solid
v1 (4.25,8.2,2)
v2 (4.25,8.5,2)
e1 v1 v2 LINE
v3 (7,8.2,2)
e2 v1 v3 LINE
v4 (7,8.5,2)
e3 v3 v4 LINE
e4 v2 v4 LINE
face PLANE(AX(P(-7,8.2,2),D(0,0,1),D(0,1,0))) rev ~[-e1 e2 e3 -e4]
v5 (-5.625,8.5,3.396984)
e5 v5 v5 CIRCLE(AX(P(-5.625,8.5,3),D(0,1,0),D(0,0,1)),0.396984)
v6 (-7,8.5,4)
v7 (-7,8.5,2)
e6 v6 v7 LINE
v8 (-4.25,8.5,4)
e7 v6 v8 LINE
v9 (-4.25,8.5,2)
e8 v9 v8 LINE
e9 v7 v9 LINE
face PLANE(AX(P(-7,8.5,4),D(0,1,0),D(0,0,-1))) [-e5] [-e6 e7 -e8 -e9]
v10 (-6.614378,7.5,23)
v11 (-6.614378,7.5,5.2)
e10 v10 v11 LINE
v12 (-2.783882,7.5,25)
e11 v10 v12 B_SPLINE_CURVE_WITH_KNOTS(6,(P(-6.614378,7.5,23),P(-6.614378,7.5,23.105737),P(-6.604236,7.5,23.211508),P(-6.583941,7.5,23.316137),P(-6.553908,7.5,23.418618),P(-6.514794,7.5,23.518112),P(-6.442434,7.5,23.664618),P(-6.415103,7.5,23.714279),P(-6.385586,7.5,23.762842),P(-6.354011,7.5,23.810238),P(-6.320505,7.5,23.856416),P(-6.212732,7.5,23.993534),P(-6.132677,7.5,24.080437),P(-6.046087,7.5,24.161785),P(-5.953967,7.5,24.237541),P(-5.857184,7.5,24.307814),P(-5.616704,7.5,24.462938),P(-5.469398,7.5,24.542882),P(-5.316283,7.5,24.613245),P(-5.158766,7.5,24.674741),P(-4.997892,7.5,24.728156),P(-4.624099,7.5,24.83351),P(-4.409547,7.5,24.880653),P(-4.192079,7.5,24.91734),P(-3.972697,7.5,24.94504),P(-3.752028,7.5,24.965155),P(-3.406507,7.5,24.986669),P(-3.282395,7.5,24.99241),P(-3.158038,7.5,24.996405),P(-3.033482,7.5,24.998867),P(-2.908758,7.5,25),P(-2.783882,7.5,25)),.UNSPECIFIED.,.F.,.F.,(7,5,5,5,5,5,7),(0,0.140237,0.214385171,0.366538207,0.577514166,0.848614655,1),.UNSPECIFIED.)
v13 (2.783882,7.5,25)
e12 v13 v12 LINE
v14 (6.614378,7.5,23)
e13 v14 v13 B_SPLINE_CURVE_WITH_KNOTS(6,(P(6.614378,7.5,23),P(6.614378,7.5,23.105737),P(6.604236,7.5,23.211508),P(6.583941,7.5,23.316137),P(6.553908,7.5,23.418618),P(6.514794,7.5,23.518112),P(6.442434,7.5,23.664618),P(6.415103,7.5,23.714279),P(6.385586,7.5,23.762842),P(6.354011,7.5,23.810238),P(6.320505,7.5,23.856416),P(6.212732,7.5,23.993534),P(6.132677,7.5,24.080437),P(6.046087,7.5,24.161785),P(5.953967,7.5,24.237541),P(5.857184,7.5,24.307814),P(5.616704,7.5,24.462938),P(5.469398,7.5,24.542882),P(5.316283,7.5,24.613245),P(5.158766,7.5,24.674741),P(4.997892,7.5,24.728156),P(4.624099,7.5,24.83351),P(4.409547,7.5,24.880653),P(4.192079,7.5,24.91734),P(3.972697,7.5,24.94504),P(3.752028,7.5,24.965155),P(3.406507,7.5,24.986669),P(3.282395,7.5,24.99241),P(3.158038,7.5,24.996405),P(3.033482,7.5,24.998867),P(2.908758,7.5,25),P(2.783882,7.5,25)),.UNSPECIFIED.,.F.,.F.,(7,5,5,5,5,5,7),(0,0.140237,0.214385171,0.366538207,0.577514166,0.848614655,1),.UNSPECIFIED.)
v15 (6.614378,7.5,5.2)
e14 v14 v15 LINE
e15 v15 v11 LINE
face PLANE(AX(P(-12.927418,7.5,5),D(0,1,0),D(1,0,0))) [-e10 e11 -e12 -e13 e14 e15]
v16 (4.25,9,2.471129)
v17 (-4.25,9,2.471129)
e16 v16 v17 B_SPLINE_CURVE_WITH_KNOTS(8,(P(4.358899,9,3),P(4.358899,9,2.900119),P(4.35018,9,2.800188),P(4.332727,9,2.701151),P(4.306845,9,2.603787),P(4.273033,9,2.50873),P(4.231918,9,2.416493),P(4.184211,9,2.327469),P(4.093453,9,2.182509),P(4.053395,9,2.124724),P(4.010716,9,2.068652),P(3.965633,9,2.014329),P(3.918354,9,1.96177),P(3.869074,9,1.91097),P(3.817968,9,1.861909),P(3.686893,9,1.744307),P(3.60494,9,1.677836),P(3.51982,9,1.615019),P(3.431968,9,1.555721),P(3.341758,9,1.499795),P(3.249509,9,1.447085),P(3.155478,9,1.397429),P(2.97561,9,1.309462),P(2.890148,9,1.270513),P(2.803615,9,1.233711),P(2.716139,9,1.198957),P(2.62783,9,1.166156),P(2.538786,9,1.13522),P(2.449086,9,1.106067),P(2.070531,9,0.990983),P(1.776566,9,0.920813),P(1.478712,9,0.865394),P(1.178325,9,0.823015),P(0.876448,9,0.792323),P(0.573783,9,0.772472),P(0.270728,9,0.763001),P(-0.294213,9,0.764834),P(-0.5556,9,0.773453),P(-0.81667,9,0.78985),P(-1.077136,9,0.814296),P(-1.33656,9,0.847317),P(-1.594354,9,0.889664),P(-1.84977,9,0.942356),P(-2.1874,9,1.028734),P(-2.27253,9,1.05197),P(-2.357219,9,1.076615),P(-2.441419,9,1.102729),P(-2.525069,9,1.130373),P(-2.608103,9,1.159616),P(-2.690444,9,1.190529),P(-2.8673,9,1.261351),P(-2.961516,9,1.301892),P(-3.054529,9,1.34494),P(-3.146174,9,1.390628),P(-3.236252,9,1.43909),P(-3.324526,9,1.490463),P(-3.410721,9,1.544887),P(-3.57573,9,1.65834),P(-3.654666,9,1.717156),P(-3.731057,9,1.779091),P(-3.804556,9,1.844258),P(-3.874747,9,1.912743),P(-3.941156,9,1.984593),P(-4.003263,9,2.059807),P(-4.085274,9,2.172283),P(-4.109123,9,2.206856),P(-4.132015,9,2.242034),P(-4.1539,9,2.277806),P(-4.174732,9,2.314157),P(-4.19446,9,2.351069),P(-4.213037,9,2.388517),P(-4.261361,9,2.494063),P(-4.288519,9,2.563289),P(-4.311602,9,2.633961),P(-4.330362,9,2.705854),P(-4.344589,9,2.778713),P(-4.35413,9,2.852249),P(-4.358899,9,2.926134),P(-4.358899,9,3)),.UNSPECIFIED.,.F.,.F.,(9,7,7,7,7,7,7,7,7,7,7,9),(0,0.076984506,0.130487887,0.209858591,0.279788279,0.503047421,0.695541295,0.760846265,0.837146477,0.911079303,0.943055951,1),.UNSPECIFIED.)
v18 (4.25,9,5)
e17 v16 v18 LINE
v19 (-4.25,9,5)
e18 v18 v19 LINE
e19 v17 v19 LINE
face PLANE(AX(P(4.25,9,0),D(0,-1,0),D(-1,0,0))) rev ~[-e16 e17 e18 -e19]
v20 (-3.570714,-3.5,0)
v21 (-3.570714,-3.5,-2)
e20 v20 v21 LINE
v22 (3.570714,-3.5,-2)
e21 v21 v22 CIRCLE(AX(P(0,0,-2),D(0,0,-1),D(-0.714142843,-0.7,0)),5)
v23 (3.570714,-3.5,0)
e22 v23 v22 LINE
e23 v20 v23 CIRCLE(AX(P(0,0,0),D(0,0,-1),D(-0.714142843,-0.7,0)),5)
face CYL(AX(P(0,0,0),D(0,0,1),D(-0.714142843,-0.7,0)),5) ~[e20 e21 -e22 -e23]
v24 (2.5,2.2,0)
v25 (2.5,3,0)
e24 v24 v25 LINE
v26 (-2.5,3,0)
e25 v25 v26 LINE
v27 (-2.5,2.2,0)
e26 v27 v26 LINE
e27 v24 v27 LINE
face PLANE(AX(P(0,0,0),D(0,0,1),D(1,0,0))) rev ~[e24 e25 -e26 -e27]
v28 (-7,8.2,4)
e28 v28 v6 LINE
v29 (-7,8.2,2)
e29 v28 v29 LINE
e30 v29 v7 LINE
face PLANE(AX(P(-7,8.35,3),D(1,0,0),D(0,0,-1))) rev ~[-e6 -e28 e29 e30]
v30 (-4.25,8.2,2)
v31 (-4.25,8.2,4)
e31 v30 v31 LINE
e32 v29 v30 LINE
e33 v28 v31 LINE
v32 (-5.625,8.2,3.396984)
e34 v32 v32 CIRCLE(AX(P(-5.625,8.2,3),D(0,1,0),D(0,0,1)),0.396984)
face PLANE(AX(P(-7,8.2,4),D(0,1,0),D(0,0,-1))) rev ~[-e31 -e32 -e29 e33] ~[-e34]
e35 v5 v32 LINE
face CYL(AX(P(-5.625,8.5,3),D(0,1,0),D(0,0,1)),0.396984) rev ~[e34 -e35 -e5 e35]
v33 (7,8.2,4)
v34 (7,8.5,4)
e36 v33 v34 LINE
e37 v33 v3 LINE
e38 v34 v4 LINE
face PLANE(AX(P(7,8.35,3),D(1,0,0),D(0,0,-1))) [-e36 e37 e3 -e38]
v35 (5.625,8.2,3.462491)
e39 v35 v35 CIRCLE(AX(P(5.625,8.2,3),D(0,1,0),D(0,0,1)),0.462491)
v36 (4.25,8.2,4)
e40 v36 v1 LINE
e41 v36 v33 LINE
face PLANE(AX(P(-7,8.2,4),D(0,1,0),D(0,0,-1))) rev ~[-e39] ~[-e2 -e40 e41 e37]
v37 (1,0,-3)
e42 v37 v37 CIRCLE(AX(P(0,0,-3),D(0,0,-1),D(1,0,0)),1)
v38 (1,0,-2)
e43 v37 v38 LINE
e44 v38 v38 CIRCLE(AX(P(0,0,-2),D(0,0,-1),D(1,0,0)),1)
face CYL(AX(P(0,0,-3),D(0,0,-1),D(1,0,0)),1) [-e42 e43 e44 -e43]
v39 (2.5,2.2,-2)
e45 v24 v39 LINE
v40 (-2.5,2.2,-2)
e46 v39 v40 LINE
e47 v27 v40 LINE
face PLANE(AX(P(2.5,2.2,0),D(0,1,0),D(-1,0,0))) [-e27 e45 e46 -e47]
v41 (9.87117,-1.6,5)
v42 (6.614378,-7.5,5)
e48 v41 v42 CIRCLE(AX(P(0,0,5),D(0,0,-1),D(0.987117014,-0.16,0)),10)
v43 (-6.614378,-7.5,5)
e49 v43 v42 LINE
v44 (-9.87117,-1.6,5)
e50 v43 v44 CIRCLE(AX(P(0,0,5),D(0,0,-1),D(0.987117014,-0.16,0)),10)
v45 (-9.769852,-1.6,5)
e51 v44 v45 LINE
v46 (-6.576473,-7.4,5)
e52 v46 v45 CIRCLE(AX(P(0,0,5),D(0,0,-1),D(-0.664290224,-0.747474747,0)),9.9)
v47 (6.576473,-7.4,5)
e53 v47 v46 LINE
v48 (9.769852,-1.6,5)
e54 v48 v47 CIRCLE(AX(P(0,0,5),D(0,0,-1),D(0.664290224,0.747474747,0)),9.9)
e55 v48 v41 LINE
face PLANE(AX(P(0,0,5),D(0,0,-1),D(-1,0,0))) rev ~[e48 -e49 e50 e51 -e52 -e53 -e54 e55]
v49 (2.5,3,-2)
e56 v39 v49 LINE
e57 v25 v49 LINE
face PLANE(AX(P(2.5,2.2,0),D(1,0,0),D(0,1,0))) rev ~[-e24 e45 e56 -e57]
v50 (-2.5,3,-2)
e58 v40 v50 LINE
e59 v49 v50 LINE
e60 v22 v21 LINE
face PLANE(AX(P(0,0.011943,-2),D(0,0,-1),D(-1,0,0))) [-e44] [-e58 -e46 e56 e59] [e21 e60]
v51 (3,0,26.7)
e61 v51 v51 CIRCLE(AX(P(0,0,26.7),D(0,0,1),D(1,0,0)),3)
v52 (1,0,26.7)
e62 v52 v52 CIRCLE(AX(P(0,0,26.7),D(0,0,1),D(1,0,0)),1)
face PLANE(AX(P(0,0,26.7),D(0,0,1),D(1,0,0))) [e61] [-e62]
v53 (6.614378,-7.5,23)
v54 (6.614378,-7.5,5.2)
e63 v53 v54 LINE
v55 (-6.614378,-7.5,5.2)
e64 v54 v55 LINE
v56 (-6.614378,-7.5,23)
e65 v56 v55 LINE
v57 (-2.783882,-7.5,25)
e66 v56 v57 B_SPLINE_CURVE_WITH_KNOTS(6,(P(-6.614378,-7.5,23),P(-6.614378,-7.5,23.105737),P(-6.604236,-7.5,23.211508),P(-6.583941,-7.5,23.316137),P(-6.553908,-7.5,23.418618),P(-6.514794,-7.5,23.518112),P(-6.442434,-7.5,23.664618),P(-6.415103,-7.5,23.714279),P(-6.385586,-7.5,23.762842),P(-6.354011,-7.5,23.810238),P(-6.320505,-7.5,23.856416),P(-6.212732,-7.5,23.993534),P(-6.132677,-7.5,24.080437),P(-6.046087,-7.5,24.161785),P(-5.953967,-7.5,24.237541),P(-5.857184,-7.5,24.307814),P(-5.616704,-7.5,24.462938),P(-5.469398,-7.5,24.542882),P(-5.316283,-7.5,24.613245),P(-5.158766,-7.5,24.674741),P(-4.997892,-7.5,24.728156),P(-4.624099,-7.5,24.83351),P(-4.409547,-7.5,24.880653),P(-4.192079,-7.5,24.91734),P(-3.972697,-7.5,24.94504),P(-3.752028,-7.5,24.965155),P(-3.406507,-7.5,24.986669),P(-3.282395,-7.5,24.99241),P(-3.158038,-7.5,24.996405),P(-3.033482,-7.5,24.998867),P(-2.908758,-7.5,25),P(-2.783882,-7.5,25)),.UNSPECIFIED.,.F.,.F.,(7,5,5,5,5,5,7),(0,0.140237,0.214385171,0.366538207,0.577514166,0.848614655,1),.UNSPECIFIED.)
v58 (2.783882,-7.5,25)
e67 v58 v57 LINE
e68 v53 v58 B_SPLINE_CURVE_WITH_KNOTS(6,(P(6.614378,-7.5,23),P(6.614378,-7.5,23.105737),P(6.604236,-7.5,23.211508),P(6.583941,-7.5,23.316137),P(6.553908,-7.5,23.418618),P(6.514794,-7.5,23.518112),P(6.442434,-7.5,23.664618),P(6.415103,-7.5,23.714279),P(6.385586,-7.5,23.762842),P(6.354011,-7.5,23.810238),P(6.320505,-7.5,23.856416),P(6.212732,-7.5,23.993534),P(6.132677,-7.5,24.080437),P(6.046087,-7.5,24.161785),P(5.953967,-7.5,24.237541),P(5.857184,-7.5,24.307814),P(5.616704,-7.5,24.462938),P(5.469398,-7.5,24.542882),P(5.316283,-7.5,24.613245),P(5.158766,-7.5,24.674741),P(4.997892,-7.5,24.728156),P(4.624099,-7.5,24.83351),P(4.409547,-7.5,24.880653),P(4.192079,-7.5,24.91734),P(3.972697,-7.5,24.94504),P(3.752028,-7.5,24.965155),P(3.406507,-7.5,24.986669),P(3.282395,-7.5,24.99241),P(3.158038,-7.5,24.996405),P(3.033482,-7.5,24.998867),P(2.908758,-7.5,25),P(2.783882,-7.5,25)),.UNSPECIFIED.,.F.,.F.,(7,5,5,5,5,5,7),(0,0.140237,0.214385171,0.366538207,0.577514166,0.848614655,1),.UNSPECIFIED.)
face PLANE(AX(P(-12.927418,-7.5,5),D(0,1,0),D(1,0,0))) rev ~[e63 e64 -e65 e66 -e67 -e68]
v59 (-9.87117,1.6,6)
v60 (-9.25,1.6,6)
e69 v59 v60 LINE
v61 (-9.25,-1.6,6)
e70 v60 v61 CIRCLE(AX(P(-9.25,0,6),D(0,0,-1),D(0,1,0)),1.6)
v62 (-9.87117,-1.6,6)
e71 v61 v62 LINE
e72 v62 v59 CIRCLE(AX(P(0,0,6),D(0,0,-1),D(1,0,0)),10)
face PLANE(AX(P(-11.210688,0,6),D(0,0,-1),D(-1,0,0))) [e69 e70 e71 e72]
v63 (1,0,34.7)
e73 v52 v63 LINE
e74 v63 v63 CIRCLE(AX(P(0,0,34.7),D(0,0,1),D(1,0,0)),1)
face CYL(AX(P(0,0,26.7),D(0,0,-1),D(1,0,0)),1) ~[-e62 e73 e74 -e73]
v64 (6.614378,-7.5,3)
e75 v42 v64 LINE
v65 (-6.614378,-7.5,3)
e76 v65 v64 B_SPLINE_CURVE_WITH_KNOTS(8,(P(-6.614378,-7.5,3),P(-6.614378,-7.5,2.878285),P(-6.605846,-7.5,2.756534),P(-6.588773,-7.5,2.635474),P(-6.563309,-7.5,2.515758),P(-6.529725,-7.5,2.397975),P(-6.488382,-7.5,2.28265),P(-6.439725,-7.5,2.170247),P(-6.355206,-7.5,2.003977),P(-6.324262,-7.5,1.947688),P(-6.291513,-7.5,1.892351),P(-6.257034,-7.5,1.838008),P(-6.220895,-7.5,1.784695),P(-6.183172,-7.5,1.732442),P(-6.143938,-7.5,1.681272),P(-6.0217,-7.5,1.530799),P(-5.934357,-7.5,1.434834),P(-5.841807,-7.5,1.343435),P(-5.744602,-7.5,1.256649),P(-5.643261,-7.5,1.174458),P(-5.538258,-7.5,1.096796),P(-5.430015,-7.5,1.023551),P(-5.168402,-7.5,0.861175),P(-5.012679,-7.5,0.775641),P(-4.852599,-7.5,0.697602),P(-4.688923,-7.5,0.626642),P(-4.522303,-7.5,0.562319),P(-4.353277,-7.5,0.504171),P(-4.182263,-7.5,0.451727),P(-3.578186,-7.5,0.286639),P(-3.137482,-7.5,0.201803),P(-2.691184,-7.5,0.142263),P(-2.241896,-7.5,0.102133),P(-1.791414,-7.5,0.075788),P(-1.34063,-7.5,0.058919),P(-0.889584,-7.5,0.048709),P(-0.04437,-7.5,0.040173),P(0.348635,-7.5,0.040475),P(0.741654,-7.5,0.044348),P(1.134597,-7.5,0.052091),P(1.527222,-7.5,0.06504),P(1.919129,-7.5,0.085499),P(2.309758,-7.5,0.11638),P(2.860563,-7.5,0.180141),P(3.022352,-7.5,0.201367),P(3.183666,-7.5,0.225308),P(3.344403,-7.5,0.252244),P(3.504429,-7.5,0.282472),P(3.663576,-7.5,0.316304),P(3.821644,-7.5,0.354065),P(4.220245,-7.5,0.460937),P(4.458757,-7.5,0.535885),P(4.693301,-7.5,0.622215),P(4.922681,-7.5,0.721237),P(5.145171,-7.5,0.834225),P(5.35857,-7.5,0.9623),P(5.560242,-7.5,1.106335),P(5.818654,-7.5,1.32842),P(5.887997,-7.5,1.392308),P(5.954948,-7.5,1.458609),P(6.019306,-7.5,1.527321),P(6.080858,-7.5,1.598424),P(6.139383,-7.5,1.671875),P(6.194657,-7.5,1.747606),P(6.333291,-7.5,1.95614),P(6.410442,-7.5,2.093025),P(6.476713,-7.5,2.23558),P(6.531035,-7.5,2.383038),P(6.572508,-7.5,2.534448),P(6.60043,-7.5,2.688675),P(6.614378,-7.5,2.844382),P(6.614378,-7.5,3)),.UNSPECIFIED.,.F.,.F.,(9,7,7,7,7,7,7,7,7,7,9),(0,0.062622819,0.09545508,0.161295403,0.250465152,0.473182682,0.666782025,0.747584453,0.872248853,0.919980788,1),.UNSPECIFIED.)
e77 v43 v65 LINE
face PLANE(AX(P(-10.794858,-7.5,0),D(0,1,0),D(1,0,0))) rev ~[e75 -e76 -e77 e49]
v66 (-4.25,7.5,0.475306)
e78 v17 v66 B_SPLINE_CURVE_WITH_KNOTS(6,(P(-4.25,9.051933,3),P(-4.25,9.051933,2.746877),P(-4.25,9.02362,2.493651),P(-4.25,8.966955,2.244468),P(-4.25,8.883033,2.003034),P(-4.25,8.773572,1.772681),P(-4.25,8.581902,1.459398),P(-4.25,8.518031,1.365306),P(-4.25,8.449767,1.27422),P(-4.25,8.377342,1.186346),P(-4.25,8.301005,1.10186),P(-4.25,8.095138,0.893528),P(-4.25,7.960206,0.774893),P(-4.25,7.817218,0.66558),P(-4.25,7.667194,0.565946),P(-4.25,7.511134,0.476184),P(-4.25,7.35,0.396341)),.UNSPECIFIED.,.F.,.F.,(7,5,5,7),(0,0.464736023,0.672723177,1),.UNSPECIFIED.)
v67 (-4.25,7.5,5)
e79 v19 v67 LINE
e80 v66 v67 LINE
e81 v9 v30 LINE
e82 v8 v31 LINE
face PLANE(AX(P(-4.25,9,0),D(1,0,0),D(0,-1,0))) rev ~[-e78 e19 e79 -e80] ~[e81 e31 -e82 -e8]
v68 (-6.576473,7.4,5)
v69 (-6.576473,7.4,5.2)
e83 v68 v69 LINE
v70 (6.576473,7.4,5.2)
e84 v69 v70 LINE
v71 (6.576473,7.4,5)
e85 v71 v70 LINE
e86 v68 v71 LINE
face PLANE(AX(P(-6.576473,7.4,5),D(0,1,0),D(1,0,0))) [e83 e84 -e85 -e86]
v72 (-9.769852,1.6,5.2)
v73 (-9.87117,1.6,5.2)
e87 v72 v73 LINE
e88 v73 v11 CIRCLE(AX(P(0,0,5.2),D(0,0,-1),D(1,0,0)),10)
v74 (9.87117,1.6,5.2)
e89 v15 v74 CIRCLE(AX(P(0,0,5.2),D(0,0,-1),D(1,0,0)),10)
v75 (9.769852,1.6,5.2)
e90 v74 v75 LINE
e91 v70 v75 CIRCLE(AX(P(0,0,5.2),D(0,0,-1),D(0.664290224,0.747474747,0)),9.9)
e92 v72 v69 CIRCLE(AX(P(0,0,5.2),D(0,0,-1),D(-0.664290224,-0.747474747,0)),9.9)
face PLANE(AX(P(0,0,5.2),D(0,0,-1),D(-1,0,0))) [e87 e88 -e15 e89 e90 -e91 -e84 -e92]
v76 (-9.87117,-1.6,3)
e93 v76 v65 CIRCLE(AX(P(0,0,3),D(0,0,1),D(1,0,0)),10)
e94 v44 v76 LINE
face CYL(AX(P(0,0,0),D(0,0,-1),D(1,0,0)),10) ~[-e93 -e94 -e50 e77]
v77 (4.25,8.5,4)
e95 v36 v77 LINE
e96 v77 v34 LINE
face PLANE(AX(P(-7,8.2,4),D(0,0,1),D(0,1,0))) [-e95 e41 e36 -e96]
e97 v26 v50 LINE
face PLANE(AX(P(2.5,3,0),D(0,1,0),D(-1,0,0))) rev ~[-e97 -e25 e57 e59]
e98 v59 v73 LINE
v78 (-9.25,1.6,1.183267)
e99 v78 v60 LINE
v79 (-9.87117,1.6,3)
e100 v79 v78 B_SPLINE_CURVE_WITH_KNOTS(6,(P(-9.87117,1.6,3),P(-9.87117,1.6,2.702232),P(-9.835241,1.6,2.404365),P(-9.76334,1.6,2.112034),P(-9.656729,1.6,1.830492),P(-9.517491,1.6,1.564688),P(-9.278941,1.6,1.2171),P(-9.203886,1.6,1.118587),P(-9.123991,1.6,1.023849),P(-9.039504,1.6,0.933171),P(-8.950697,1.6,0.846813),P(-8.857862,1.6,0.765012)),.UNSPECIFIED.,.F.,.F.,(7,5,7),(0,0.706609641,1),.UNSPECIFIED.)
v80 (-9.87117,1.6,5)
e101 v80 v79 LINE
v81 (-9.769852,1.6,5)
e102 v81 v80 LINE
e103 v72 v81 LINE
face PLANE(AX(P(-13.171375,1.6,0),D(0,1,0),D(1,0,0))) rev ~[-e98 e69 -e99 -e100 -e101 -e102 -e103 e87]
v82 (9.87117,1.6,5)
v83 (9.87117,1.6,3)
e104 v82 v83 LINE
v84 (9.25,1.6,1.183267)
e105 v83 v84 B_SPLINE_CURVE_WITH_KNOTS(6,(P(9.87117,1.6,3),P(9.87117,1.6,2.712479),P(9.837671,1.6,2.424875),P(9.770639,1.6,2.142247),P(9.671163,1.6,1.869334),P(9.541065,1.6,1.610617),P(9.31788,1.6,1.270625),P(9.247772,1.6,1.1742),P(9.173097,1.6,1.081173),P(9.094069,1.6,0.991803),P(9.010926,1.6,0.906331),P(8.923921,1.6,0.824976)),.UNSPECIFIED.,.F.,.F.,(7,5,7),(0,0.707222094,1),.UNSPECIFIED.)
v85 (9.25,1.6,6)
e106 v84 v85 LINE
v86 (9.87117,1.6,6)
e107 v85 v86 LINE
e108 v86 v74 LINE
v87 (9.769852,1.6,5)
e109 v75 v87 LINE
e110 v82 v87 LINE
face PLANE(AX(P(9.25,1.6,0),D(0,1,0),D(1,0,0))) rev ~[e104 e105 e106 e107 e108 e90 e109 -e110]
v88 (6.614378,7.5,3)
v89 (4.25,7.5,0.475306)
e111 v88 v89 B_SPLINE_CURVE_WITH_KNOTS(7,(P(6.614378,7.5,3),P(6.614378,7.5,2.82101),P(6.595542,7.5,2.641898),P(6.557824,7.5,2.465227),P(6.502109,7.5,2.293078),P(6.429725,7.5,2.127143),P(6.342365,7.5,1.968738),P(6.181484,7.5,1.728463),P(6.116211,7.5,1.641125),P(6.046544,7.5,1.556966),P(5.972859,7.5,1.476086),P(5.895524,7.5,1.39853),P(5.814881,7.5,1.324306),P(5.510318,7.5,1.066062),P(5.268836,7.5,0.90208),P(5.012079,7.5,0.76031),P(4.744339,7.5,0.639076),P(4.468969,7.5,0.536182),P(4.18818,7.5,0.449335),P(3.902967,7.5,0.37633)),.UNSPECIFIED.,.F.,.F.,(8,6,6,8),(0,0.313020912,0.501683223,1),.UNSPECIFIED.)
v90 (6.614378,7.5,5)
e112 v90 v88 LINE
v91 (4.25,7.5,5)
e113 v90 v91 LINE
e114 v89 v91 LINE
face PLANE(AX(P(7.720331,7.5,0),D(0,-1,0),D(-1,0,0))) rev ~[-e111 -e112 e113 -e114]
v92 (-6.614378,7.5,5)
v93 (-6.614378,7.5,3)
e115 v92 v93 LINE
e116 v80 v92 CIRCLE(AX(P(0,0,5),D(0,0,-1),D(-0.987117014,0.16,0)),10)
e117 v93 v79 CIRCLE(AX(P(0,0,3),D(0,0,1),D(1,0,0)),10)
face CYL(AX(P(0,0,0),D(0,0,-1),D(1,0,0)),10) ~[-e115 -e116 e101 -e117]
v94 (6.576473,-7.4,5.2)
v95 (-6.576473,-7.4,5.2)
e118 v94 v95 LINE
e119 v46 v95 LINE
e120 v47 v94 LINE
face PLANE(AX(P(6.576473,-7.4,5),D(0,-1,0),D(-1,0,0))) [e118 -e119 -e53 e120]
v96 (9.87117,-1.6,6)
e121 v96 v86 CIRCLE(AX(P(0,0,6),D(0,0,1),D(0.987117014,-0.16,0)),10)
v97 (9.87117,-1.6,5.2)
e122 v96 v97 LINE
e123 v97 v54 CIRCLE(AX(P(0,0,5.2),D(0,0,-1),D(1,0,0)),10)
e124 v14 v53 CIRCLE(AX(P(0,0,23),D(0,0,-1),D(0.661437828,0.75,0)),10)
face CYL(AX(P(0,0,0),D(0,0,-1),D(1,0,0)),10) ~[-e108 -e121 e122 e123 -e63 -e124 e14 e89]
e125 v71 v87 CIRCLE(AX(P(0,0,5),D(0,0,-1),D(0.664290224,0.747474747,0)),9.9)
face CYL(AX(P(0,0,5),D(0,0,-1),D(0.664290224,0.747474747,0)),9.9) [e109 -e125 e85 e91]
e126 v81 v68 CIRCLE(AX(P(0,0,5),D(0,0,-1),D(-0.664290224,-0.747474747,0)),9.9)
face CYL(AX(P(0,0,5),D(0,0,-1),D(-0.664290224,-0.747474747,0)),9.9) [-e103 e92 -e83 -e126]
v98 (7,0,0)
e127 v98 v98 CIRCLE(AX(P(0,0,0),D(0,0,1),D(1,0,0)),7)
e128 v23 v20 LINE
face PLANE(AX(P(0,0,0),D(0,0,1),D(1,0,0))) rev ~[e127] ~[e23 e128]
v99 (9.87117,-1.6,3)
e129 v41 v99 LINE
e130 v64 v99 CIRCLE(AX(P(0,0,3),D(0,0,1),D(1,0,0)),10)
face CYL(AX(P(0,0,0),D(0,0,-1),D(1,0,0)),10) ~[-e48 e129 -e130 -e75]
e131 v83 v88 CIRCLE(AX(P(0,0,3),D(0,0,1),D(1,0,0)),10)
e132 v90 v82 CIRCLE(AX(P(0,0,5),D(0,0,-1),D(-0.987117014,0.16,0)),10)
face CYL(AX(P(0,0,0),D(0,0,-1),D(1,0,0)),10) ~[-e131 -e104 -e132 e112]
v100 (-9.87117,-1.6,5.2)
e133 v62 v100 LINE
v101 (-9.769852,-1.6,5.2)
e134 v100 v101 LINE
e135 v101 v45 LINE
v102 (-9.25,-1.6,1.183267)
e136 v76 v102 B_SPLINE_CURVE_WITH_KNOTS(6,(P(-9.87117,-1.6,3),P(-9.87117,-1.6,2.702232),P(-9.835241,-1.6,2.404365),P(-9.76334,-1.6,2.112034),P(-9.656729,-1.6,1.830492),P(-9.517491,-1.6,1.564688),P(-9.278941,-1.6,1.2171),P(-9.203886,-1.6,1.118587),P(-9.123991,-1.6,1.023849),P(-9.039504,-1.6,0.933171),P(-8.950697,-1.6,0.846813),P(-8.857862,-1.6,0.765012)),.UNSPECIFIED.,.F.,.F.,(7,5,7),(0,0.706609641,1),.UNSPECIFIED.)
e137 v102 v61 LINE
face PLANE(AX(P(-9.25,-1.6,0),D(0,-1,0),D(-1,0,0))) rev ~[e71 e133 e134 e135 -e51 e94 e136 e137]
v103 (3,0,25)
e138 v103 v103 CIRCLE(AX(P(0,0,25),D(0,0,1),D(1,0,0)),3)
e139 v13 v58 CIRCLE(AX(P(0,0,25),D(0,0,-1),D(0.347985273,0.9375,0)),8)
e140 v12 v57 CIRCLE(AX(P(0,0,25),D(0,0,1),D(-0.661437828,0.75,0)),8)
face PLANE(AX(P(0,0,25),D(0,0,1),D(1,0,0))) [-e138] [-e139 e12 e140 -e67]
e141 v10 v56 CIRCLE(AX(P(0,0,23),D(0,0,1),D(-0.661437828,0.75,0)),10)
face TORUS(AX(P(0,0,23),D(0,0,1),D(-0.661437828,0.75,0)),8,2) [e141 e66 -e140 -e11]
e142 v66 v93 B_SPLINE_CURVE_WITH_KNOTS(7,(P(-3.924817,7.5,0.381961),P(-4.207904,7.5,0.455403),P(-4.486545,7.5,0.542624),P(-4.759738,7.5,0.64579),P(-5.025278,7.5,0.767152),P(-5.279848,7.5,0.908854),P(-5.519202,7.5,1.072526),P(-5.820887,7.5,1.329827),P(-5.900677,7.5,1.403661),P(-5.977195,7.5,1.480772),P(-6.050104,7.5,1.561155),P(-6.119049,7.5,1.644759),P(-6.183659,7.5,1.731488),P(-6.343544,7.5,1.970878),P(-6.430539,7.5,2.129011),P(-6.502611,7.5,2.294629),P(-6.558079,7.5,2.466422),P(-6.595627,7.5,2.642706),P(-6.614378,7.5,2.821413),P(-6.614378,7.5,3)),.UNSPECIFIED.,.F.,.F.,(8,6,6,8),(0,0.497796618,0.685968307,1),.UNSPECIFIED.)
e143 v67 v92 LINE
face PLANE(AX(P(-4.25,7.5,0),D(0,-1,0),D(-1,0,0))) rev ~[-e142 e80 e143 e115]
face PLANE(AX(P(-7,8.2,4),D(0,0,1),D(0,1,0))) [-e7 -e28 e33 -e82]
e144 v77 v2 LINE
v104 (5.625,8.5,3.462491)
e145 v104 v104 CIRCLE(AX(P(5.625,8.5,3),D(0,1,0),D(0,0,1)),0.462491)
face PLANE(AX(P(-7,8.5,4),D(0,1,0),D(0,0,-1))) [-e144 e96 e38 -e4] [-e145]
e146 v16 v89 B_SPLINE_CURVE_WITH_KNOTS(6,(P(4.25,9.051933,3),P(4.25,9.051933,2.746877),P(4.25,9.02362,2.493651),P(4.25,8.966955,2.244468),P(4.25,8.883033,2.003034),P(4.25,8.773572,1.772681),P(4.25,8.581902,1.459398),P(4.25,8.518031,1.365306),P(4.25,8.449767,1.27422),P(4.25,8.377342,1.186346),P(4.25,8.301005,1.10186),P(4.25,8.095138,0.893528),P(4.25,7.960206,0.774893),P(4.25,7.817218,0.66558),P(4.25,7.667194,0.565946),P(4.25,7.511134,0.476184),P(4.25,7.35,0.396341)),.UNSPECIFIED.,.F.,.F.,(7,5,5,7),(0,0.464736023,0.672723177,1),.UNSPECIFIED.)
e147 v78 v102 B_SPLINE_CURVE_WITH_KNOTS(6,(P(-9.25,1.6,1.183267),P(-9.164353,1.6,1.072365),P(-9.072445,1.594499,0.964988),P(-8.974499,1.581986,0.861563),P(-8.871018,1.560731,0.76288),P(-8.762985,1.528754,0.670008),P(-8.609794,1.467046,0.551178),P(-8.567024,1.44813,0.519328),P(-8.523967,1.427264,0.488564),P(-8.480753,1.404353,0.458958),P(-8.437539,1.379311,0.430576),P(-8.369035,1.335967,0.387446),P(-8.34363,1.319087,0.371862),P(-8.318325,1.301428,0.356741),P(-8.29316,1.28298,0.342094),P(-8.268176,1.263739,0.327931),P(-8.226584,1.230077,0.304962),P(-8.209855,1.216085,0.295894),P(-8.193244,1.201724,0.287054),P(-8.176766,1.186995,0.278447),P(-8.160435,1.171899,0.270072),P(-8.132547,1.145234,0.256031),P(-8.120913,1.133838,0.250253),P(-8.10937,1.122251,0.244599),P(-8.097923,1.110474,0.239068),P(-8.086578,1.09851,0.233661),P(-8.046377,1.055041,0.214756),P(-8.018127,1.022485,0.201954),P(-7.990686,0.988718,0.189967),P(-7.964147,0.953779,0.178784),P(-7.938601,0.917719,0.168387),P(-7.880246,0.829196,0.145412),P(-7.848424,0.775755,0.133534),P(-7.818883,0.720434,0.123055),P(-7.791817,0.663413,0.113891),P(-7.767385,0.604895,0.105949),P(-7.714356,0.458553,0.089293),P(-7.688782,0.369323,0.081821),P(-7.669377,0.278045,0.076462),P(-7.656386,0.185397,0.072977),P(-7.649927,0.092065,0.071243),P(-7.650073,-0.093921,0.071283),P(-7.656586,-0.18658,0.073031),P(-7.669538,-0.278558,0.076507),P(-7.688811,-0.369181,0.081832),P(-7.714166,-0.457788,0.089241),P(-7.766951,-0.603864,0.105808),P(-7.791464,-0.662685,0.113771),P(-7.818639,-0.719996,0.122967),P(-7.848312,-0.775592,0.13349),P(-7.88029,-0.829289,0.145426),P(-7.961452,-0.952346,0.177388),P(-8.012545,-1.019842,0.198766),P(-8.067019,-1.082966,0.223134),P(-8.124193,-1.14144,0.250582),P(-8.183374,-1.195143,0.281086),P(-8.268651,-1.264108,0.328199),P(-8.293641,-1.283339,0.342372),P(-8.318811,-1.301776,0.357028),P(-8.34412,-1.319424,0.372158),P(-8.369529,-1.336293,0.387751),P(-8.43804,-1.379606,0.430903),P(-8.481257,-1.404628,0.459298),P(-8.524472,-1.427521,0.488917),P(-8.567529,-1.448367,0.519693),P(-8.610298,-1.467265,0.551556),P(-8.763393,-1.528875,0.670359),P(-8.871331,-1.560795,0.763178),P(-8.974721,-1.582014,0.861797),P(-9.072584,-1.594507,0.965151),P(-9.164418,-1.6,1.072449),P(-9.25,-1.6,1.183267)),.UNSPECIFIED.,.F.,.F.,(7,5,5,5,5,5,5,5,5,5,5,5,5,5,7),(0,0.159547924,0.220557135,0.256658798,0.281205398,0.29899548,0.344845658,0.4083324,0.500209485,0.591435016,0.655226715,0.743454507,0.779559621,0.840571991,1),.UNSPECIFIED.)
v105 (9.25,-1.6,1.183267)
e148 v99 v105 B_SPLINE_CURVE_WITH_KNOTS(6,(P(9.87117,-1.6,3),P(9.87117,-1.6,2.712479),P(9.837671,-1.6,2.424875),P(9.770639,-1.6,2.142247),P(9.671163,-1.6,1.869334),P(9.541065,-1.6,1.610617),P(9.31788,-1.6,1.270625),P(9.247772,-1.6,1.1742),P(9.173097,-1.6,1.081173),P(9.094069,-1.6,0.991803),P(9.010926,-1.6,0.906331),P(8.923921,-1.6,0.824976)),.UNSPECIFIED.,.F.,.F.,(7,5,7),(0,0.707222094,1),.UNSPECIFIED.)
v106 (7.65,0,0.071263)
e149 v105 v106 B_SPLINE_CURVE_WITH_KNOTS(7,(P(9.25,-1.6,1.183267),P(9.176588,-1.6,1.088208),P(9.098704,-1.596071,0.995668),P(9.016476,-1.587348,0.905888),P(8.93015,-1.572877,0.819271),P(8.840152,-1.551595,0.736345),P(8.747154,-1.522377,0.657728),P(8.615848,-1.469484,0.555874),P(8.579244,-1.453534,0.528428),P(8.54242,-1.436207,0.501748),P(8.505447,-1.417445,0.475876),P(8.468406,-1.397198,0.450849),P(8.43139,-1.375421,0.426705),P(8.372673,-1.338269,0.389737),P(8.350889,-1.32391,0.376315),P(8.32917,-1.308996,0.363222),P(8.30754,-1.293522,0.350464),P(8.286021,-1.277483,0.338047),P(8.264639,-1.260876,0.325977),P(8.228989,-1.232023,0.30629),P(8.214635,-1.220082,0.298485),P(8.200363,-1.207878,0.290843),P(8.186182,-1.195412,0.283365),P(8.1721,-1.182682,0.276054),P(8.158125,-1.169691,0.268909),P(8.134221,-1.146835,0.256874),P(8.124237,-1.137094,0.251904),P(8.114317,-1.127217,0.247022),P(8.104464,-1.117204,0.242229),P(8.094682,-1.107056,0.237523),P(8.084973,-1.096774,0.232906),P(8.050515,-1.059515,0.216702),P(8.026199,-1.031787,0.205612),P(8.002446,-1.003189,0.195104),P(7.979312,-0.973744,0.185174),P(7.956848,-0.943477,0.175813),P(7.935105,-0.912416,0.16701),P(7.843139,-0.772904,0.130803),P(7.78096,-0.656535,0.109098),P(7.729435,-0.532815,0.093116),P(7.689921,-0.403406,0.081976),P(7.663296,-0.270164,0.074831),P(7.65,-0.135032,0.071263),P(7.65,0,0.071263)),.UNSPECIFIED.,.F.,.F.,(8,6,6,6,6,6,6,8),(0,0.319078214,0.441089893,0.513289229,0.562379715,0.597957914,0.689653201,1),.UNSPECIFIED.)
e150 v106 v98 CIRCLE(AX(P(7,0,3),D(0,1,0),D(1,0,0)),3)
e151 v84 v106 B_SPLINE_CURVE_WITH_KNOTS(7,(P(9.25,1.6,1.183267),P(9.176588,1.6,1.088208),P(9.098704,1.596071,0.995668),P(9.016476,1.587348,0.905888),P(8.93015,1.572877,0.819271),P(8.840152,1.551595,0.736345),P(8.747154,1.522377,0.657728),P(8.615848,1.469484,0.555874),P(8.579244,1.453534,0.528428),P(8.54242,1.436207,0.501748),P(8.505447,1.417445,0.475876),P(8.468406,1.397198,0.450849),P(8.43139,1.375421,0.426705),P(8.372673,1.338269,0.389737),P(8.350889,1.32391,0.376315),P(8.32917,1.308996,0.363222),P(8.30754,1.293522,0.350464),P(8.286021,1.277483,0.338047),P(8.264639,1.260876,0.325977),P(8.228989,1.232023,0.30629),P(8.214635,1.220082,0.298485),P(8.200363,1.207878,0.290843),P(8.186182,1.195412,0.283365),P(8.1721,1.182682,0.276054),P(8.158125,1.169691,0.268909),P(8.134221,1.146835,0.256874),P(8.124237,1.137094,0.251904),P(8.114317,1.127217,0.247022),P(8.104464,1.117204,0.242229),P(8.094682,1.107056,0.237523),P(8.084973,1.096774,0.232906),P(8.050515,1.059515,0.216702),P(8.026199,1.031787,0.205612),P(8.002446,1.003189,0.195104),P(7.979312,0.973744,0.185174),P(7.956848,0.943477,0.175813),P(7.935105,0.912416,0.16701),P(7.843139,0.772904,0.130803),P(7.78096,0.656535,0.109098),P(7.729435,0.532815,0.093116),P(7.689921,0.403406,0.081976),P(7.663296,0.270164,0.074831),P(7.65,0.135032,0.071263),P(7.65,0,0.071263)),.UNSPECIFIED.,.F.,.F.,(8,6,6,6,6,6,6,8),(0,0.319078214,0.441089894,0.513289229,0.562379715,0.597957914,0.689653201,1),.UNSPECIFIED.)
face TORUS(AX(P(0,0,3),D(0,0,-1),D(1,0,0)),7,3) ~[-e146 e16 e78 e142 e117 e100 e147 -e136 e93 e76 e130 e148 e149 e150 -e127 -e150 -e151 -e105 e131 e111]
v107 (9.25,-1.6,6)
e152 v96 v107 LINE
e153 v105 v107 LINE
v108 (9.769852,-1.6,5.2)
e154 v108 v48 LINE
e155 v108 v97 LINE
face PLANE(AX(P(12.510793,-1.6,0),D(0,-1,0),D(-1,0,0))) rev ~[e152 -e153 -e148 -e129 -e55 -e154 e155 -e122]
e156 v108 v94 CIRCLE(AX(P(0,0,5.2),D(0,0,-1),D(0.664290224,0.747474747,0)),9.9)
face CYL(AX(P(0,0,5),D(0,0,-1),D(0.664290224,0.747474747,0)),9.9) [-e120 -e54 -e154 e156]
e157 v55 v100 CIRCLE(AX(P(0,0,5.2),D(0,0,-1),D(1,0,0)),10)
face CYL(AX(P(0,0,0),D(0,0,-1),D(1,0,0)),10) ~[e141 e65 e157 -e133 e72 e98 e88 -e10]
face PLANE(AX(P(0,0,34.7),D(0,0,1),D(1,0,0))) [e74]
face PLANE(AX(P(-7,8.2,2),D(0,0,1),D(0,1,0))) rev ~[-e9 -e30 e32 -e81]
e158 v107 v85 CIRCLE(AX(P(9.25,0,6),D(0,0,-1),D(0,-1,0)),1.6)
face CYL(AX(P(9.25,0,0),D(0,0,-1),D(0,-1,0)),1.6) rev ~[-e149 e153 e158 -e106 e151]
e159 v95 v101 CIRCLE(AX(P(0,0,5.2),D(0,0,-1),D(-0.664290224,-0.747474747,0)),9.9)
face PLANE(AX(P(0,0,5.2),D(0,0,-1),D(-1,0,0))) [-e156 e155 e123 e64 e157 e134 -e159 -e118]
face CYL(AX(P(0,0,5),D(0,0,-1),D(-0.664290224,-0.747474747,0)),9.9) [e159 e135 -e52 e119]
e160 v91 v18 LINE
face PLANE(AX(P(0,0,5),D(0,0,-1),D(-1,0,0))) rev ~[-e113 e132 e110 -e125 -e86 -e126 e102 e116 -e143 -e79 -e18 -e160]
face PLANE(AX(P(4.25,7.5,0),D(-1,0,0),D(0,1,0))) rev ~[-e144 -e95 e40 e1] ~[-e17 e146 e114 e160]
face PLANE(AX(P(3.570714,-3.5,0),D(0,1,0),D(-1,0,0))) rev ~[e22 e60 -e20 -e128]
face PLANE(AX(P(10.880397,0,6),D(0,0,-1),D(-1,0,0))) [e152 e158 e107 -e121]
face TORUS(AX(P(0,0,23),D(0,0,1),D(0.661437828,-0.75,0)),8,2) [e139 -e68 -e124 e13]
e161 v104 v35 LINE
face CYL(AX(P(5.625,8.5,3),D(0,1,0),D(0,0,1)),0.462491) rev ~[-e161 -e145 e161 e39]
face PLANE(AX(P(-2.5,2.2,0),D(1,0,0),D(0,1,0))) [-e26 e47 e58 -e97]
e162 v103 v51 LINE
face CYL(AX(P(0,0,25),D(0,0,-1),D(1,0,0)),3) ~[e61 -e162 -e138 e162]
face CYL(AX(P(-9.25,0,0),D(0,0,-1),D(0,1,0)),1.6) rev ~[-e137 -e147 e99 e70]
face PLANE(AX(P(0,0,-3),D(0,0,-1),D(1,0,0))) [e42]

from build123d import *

# Parameters (mm, degrees)
SKETCH_1_R            = 10
EXTRUDE_1_DEPTH       = 25
CUT_EXTRUDE_START     = 5
SKETCH_2_W            = 45.854835026
SKETCH_2_H            = 35
SKETCH_2_W_2          = 25.854835026
SKETCH_2_H_2          = 15
CUT_EXTRUDE_2_DEPTH   = 25
SKETCH_3_R            = 3
EXTRUDE_2_DEPTH       = 1.7
SKETCH_4_R            = 1
EXTRUDE_3_DEPTH       = 8
FILLET_1_R            = 2
FILLET_2_R            = 3
SKETCH_5_W            = 5
SKETCH_5_H            = 0.8
EXTRUDE_4_DEPTH       = 2
EXTRUDE_START         = 1
SKETCH_6_R            = 1
EXTRUDE_5_DEPTH       = 1
CUT_EXTRUDE_1_DEPTH   = 6
CUT_EXTRUDE_3_DEPTH   = 0.2
SKETCH_9_W            = 22.189526506
SKETCH_9_H            = 4.332571278
CUT_EXTRUDE_2_2_DEPTH = 5
EXTRUDE_7_DEPTH       = 7
EXTRUDE_7_DEPTH_BACK  = 7
SKETCH_11_W           = 2
SKETCH_11_H           = 0.3
CUT_EXTRUDE_3_2_REACH = 41.498
SKETCH_12_R           = 0.462491299
SKETCH_12_R_2         = 0.396984266


with BuildPart() as part:
    # Эскиз1 → Бобышка-Вытянуть1 (new body)
    with BuildSketch(Plane.XY):
        Circle(SKETCH_1_R)
    extrude(amount=EXTRUDE_1_DEPTH)

    # Эскиз2 → Cut-Extrude 2 (cut)
    with BuildSketch(Plane.XY.offset(CUT_EXTRUDE_START)):
        Rectangle(SKETCH_2_W, SKETCH_2_H)
        Rectangle(SKETCH_2_W_2, SKETCH_2_H_2, mode=Mode.SUBTRACT)
    extrude(amount=CUT_EXTRUDE_2_DEPTH, mode=Mode.SUBTRACT)

    # Эскиз3 → Бобышка-Вытянуть2 (add)
    with BuildSketch(Plane.XY.offset(25)):
        Circle(SKETCH_3_R)
    extrude(amount=EXTRUDE_2_DEPTH)

    # Эскиз4 → Бобышка-Вытянуть3 (add)
    with BuildSketch(Plane.XY.offset(26.7)):
        Circle(SKETCH_4_R)
    extrude(amount=EXTRUDE_3_DEPTH)

    # Скругление1
    fillet_1_edges = [part.edges().sort_by_distance(p)[0] for p in [
        (-10, 0, 25),
        (9.114378278, 4.114378278, 25),
    ]]
    fillet(fillet_1_edges, radius=FILLET_1_R)

    # Скругление2
    fillet_2_edges = [part.edges().sort_by_distance(p)[0] for p in [
        (-10, 0, 0),
    ]]
    fillet(fillet_2_edges, radius=FILLET_2_R)

    # Эскиз5 → Бобышка-Вытянуть4 (add)
    with BuildSketch(Plane(origin=(0, 0, 0), x_dir=(-1, 0, 0), z_dir=(0, 0, -1))):
        with BuildLine():
            Line((-3.570714214, -3.5), (3.570714214, -3.5))
            ThreePointArc((3.570714214, -3.5), (0, 5), (-3.570714214, -3.5))
        make_face()
        with Locations((0, 2.6)):
            Rectangle(SKETCH_5_W, SKETCH_5_H, mode=Mode.SUBTRACT)
    extrude(amount=EXTRUDE_4_DEPTH)

    # Эскиз6 → Бобышка-Вытянуть5 (add)
    with BuildSketch(Plane(origin=(0, 0, -2), x_dir=(-1, 0, 0), z_dir=(0, 0, -1)).offset(EXTRUDE_START)):
        with Locations(Location((0, 0, 0), (0, 0, 180))):
            Circle(SKETCH_6_R)
    extrude(amount=-EXTRUDE_5_DEPTH)

    # Эскиз7 → Вырез-Вытянуть1 (cut)
    with BuildSketch(Plane.XY):
        with BuildLine():
            Line((9.25, 1.6), (12.510793403, 1.6))
            ThreePointArc((12.510793403, 1.6), (14.110793403, 0), (12.510793403, -1.6))
            Line((12.510793403, -1.6), (9.25, -1.6))
            ThreePointArc((9.25, -1.6), (7.65, 0), (9.25, 1.6))
        make_face()
        with BuildLine():
            Line((-9.25, -1.6), (-13.171375323, -1.6))
            ThreePointArc((-13.171375323, -1.6), (-14.771375323, 0), (-13.171375323, 1.6))
            Line((-13.171375323, 1.6), (-9.25, 1.6))
            ThreePointArc((-9.25, 1.6), (-7.65, 0), (-9.25, -1.6))
        make_face()
    extrude(amount=CUT_EXTRUDE_1_DEPTH, mode=Mode.SUBTRACT)

    # Эскиз8 → Cut-Extrude 3 (cut)
    with BuildSketch(Plane.XY.offset(CUT_EXTRUDE_START)):
        with BuildLine():
            Line((6.652067348, -7.6), (-6.652067348, -7.6))
            ThreePointArc((-6.652067348, -7.6), (-10.1, 0), (-6.652067348, 7.6))
            Line((-6.652067348, 7.6), (6.652067348, 7.6))
            ThreePointArc((6.652067348, 7.6), (10.1, 0), (6.652067348, -7.6))
        make_face()
        with BuildLine():
            Line((6.576473219, -7.4), (-6.576473219, -7.4))
            ThreePointArc((-6.576473219, -7.4), (-9.9, 0), (-6.576473219, 7.4))
            Line((-6.576473219, 7.4), (6.576473219, 7.4))
            ThreePointArc((6.576473219, 7.4), (9.9, 0), (6.576473219, -7.4))
        make_face(mode=Mode.SUBTRACT)
    extrude(amount=CUT_EXTRUDE_3_DEPTH, mode=Mode.SUBTRACT)

    # Эскиз9 → Cut-Extrude 2 2 (cut)
    with BuildSketch(Plane.XY):
        with Locations((0.299905464, -9.666285639)):
            Rectangle(SKETCH_9_W, SKETCH_9_H)
        Polygon((4.25, 9), (-4.25, 9), (-4.25, 7.5), (-7.501825295, 7.5), (-7.501825295, 11.857816674), (7.720330833, 11.857816674), (7.720330833, 7.5), (4.25, 7.5), align=None)
    extrude(amount=CUT_EXTRUDE_2_2_DEPTH, mode=Mode.SUBTRACT)

    # Эскиз11 → Бобышка-Вытянуть7 (add, two sides: drawn at the far end of the back side and taken through both)
    with BuildSketch(Plane(origin=(0, 0, 0), x_dir=(0, 0, -1), z_dir=(1, 0, 0)).offset(-EXTRUDE_7_DEPTH_BACK)):
        with Locations((-3, 8.35)):
            Rectangle(SKETCH_11_W, SKETCH_11_H)
    extrude(amount=EXTRUDE_7_DEPTH + EXTRUDE_7_DEPTH_BACK)

    # Эскиз12 → Cut-Extrude 3 2 (cut, up to next)
    with BuildSketch(Plane(origin=(0, 8.5, 0), x_dir=(1, 0, 0), z_dir=(0, 1, 0)), mode=Mode.PRIVATE) as cut_extrude_3_2_sk1:
        with Locations(Location((5.625, -3, 0), (0, 0, 270))):
            Circle(SKETCH_12_R)
    cut_extrude_3_2_tool1 = extrude(cut_extrude_3_2_sk1.sketch, amount=-CUT_EXTRUDE_3_2_REACH, mode=Mode.PRIVATE) & part.part
    # Эскиз12 → Cut-Extrude 3 2 (cut, up to next)
    with BuildSketch(Plane(origin=(0, 8.5, 0), x_dir=(1, 0, 0), z_dir=(0, 1, 0)), mode=Mode.PRIVATE) as cut_extrude_3_2_sk2:
        with Locations(Location((-5.625, -3, 0), (0, 0, 270))):
            Circle(SKETCH_12_R_2)
    cut_extrude_3_2_tool2 = extrude(cut_extrude_3_2_sk2.sketch, amount=-CUT_EXTRUDE_3_2_REACH, mode=Mode.PRIVATE) & part.part
    add(cut_extrude_3_2_tool1.solids().sort_by_distance((5.625, 8.5, 3))[0], mode=Mode.SUBTRACT)
    add(cut_extrude_3_2_tool2.solids().sort_by_distance((-5.625, 8.5, 3))[0], mode=Mode.SUBTRACT)


solid = part.part
